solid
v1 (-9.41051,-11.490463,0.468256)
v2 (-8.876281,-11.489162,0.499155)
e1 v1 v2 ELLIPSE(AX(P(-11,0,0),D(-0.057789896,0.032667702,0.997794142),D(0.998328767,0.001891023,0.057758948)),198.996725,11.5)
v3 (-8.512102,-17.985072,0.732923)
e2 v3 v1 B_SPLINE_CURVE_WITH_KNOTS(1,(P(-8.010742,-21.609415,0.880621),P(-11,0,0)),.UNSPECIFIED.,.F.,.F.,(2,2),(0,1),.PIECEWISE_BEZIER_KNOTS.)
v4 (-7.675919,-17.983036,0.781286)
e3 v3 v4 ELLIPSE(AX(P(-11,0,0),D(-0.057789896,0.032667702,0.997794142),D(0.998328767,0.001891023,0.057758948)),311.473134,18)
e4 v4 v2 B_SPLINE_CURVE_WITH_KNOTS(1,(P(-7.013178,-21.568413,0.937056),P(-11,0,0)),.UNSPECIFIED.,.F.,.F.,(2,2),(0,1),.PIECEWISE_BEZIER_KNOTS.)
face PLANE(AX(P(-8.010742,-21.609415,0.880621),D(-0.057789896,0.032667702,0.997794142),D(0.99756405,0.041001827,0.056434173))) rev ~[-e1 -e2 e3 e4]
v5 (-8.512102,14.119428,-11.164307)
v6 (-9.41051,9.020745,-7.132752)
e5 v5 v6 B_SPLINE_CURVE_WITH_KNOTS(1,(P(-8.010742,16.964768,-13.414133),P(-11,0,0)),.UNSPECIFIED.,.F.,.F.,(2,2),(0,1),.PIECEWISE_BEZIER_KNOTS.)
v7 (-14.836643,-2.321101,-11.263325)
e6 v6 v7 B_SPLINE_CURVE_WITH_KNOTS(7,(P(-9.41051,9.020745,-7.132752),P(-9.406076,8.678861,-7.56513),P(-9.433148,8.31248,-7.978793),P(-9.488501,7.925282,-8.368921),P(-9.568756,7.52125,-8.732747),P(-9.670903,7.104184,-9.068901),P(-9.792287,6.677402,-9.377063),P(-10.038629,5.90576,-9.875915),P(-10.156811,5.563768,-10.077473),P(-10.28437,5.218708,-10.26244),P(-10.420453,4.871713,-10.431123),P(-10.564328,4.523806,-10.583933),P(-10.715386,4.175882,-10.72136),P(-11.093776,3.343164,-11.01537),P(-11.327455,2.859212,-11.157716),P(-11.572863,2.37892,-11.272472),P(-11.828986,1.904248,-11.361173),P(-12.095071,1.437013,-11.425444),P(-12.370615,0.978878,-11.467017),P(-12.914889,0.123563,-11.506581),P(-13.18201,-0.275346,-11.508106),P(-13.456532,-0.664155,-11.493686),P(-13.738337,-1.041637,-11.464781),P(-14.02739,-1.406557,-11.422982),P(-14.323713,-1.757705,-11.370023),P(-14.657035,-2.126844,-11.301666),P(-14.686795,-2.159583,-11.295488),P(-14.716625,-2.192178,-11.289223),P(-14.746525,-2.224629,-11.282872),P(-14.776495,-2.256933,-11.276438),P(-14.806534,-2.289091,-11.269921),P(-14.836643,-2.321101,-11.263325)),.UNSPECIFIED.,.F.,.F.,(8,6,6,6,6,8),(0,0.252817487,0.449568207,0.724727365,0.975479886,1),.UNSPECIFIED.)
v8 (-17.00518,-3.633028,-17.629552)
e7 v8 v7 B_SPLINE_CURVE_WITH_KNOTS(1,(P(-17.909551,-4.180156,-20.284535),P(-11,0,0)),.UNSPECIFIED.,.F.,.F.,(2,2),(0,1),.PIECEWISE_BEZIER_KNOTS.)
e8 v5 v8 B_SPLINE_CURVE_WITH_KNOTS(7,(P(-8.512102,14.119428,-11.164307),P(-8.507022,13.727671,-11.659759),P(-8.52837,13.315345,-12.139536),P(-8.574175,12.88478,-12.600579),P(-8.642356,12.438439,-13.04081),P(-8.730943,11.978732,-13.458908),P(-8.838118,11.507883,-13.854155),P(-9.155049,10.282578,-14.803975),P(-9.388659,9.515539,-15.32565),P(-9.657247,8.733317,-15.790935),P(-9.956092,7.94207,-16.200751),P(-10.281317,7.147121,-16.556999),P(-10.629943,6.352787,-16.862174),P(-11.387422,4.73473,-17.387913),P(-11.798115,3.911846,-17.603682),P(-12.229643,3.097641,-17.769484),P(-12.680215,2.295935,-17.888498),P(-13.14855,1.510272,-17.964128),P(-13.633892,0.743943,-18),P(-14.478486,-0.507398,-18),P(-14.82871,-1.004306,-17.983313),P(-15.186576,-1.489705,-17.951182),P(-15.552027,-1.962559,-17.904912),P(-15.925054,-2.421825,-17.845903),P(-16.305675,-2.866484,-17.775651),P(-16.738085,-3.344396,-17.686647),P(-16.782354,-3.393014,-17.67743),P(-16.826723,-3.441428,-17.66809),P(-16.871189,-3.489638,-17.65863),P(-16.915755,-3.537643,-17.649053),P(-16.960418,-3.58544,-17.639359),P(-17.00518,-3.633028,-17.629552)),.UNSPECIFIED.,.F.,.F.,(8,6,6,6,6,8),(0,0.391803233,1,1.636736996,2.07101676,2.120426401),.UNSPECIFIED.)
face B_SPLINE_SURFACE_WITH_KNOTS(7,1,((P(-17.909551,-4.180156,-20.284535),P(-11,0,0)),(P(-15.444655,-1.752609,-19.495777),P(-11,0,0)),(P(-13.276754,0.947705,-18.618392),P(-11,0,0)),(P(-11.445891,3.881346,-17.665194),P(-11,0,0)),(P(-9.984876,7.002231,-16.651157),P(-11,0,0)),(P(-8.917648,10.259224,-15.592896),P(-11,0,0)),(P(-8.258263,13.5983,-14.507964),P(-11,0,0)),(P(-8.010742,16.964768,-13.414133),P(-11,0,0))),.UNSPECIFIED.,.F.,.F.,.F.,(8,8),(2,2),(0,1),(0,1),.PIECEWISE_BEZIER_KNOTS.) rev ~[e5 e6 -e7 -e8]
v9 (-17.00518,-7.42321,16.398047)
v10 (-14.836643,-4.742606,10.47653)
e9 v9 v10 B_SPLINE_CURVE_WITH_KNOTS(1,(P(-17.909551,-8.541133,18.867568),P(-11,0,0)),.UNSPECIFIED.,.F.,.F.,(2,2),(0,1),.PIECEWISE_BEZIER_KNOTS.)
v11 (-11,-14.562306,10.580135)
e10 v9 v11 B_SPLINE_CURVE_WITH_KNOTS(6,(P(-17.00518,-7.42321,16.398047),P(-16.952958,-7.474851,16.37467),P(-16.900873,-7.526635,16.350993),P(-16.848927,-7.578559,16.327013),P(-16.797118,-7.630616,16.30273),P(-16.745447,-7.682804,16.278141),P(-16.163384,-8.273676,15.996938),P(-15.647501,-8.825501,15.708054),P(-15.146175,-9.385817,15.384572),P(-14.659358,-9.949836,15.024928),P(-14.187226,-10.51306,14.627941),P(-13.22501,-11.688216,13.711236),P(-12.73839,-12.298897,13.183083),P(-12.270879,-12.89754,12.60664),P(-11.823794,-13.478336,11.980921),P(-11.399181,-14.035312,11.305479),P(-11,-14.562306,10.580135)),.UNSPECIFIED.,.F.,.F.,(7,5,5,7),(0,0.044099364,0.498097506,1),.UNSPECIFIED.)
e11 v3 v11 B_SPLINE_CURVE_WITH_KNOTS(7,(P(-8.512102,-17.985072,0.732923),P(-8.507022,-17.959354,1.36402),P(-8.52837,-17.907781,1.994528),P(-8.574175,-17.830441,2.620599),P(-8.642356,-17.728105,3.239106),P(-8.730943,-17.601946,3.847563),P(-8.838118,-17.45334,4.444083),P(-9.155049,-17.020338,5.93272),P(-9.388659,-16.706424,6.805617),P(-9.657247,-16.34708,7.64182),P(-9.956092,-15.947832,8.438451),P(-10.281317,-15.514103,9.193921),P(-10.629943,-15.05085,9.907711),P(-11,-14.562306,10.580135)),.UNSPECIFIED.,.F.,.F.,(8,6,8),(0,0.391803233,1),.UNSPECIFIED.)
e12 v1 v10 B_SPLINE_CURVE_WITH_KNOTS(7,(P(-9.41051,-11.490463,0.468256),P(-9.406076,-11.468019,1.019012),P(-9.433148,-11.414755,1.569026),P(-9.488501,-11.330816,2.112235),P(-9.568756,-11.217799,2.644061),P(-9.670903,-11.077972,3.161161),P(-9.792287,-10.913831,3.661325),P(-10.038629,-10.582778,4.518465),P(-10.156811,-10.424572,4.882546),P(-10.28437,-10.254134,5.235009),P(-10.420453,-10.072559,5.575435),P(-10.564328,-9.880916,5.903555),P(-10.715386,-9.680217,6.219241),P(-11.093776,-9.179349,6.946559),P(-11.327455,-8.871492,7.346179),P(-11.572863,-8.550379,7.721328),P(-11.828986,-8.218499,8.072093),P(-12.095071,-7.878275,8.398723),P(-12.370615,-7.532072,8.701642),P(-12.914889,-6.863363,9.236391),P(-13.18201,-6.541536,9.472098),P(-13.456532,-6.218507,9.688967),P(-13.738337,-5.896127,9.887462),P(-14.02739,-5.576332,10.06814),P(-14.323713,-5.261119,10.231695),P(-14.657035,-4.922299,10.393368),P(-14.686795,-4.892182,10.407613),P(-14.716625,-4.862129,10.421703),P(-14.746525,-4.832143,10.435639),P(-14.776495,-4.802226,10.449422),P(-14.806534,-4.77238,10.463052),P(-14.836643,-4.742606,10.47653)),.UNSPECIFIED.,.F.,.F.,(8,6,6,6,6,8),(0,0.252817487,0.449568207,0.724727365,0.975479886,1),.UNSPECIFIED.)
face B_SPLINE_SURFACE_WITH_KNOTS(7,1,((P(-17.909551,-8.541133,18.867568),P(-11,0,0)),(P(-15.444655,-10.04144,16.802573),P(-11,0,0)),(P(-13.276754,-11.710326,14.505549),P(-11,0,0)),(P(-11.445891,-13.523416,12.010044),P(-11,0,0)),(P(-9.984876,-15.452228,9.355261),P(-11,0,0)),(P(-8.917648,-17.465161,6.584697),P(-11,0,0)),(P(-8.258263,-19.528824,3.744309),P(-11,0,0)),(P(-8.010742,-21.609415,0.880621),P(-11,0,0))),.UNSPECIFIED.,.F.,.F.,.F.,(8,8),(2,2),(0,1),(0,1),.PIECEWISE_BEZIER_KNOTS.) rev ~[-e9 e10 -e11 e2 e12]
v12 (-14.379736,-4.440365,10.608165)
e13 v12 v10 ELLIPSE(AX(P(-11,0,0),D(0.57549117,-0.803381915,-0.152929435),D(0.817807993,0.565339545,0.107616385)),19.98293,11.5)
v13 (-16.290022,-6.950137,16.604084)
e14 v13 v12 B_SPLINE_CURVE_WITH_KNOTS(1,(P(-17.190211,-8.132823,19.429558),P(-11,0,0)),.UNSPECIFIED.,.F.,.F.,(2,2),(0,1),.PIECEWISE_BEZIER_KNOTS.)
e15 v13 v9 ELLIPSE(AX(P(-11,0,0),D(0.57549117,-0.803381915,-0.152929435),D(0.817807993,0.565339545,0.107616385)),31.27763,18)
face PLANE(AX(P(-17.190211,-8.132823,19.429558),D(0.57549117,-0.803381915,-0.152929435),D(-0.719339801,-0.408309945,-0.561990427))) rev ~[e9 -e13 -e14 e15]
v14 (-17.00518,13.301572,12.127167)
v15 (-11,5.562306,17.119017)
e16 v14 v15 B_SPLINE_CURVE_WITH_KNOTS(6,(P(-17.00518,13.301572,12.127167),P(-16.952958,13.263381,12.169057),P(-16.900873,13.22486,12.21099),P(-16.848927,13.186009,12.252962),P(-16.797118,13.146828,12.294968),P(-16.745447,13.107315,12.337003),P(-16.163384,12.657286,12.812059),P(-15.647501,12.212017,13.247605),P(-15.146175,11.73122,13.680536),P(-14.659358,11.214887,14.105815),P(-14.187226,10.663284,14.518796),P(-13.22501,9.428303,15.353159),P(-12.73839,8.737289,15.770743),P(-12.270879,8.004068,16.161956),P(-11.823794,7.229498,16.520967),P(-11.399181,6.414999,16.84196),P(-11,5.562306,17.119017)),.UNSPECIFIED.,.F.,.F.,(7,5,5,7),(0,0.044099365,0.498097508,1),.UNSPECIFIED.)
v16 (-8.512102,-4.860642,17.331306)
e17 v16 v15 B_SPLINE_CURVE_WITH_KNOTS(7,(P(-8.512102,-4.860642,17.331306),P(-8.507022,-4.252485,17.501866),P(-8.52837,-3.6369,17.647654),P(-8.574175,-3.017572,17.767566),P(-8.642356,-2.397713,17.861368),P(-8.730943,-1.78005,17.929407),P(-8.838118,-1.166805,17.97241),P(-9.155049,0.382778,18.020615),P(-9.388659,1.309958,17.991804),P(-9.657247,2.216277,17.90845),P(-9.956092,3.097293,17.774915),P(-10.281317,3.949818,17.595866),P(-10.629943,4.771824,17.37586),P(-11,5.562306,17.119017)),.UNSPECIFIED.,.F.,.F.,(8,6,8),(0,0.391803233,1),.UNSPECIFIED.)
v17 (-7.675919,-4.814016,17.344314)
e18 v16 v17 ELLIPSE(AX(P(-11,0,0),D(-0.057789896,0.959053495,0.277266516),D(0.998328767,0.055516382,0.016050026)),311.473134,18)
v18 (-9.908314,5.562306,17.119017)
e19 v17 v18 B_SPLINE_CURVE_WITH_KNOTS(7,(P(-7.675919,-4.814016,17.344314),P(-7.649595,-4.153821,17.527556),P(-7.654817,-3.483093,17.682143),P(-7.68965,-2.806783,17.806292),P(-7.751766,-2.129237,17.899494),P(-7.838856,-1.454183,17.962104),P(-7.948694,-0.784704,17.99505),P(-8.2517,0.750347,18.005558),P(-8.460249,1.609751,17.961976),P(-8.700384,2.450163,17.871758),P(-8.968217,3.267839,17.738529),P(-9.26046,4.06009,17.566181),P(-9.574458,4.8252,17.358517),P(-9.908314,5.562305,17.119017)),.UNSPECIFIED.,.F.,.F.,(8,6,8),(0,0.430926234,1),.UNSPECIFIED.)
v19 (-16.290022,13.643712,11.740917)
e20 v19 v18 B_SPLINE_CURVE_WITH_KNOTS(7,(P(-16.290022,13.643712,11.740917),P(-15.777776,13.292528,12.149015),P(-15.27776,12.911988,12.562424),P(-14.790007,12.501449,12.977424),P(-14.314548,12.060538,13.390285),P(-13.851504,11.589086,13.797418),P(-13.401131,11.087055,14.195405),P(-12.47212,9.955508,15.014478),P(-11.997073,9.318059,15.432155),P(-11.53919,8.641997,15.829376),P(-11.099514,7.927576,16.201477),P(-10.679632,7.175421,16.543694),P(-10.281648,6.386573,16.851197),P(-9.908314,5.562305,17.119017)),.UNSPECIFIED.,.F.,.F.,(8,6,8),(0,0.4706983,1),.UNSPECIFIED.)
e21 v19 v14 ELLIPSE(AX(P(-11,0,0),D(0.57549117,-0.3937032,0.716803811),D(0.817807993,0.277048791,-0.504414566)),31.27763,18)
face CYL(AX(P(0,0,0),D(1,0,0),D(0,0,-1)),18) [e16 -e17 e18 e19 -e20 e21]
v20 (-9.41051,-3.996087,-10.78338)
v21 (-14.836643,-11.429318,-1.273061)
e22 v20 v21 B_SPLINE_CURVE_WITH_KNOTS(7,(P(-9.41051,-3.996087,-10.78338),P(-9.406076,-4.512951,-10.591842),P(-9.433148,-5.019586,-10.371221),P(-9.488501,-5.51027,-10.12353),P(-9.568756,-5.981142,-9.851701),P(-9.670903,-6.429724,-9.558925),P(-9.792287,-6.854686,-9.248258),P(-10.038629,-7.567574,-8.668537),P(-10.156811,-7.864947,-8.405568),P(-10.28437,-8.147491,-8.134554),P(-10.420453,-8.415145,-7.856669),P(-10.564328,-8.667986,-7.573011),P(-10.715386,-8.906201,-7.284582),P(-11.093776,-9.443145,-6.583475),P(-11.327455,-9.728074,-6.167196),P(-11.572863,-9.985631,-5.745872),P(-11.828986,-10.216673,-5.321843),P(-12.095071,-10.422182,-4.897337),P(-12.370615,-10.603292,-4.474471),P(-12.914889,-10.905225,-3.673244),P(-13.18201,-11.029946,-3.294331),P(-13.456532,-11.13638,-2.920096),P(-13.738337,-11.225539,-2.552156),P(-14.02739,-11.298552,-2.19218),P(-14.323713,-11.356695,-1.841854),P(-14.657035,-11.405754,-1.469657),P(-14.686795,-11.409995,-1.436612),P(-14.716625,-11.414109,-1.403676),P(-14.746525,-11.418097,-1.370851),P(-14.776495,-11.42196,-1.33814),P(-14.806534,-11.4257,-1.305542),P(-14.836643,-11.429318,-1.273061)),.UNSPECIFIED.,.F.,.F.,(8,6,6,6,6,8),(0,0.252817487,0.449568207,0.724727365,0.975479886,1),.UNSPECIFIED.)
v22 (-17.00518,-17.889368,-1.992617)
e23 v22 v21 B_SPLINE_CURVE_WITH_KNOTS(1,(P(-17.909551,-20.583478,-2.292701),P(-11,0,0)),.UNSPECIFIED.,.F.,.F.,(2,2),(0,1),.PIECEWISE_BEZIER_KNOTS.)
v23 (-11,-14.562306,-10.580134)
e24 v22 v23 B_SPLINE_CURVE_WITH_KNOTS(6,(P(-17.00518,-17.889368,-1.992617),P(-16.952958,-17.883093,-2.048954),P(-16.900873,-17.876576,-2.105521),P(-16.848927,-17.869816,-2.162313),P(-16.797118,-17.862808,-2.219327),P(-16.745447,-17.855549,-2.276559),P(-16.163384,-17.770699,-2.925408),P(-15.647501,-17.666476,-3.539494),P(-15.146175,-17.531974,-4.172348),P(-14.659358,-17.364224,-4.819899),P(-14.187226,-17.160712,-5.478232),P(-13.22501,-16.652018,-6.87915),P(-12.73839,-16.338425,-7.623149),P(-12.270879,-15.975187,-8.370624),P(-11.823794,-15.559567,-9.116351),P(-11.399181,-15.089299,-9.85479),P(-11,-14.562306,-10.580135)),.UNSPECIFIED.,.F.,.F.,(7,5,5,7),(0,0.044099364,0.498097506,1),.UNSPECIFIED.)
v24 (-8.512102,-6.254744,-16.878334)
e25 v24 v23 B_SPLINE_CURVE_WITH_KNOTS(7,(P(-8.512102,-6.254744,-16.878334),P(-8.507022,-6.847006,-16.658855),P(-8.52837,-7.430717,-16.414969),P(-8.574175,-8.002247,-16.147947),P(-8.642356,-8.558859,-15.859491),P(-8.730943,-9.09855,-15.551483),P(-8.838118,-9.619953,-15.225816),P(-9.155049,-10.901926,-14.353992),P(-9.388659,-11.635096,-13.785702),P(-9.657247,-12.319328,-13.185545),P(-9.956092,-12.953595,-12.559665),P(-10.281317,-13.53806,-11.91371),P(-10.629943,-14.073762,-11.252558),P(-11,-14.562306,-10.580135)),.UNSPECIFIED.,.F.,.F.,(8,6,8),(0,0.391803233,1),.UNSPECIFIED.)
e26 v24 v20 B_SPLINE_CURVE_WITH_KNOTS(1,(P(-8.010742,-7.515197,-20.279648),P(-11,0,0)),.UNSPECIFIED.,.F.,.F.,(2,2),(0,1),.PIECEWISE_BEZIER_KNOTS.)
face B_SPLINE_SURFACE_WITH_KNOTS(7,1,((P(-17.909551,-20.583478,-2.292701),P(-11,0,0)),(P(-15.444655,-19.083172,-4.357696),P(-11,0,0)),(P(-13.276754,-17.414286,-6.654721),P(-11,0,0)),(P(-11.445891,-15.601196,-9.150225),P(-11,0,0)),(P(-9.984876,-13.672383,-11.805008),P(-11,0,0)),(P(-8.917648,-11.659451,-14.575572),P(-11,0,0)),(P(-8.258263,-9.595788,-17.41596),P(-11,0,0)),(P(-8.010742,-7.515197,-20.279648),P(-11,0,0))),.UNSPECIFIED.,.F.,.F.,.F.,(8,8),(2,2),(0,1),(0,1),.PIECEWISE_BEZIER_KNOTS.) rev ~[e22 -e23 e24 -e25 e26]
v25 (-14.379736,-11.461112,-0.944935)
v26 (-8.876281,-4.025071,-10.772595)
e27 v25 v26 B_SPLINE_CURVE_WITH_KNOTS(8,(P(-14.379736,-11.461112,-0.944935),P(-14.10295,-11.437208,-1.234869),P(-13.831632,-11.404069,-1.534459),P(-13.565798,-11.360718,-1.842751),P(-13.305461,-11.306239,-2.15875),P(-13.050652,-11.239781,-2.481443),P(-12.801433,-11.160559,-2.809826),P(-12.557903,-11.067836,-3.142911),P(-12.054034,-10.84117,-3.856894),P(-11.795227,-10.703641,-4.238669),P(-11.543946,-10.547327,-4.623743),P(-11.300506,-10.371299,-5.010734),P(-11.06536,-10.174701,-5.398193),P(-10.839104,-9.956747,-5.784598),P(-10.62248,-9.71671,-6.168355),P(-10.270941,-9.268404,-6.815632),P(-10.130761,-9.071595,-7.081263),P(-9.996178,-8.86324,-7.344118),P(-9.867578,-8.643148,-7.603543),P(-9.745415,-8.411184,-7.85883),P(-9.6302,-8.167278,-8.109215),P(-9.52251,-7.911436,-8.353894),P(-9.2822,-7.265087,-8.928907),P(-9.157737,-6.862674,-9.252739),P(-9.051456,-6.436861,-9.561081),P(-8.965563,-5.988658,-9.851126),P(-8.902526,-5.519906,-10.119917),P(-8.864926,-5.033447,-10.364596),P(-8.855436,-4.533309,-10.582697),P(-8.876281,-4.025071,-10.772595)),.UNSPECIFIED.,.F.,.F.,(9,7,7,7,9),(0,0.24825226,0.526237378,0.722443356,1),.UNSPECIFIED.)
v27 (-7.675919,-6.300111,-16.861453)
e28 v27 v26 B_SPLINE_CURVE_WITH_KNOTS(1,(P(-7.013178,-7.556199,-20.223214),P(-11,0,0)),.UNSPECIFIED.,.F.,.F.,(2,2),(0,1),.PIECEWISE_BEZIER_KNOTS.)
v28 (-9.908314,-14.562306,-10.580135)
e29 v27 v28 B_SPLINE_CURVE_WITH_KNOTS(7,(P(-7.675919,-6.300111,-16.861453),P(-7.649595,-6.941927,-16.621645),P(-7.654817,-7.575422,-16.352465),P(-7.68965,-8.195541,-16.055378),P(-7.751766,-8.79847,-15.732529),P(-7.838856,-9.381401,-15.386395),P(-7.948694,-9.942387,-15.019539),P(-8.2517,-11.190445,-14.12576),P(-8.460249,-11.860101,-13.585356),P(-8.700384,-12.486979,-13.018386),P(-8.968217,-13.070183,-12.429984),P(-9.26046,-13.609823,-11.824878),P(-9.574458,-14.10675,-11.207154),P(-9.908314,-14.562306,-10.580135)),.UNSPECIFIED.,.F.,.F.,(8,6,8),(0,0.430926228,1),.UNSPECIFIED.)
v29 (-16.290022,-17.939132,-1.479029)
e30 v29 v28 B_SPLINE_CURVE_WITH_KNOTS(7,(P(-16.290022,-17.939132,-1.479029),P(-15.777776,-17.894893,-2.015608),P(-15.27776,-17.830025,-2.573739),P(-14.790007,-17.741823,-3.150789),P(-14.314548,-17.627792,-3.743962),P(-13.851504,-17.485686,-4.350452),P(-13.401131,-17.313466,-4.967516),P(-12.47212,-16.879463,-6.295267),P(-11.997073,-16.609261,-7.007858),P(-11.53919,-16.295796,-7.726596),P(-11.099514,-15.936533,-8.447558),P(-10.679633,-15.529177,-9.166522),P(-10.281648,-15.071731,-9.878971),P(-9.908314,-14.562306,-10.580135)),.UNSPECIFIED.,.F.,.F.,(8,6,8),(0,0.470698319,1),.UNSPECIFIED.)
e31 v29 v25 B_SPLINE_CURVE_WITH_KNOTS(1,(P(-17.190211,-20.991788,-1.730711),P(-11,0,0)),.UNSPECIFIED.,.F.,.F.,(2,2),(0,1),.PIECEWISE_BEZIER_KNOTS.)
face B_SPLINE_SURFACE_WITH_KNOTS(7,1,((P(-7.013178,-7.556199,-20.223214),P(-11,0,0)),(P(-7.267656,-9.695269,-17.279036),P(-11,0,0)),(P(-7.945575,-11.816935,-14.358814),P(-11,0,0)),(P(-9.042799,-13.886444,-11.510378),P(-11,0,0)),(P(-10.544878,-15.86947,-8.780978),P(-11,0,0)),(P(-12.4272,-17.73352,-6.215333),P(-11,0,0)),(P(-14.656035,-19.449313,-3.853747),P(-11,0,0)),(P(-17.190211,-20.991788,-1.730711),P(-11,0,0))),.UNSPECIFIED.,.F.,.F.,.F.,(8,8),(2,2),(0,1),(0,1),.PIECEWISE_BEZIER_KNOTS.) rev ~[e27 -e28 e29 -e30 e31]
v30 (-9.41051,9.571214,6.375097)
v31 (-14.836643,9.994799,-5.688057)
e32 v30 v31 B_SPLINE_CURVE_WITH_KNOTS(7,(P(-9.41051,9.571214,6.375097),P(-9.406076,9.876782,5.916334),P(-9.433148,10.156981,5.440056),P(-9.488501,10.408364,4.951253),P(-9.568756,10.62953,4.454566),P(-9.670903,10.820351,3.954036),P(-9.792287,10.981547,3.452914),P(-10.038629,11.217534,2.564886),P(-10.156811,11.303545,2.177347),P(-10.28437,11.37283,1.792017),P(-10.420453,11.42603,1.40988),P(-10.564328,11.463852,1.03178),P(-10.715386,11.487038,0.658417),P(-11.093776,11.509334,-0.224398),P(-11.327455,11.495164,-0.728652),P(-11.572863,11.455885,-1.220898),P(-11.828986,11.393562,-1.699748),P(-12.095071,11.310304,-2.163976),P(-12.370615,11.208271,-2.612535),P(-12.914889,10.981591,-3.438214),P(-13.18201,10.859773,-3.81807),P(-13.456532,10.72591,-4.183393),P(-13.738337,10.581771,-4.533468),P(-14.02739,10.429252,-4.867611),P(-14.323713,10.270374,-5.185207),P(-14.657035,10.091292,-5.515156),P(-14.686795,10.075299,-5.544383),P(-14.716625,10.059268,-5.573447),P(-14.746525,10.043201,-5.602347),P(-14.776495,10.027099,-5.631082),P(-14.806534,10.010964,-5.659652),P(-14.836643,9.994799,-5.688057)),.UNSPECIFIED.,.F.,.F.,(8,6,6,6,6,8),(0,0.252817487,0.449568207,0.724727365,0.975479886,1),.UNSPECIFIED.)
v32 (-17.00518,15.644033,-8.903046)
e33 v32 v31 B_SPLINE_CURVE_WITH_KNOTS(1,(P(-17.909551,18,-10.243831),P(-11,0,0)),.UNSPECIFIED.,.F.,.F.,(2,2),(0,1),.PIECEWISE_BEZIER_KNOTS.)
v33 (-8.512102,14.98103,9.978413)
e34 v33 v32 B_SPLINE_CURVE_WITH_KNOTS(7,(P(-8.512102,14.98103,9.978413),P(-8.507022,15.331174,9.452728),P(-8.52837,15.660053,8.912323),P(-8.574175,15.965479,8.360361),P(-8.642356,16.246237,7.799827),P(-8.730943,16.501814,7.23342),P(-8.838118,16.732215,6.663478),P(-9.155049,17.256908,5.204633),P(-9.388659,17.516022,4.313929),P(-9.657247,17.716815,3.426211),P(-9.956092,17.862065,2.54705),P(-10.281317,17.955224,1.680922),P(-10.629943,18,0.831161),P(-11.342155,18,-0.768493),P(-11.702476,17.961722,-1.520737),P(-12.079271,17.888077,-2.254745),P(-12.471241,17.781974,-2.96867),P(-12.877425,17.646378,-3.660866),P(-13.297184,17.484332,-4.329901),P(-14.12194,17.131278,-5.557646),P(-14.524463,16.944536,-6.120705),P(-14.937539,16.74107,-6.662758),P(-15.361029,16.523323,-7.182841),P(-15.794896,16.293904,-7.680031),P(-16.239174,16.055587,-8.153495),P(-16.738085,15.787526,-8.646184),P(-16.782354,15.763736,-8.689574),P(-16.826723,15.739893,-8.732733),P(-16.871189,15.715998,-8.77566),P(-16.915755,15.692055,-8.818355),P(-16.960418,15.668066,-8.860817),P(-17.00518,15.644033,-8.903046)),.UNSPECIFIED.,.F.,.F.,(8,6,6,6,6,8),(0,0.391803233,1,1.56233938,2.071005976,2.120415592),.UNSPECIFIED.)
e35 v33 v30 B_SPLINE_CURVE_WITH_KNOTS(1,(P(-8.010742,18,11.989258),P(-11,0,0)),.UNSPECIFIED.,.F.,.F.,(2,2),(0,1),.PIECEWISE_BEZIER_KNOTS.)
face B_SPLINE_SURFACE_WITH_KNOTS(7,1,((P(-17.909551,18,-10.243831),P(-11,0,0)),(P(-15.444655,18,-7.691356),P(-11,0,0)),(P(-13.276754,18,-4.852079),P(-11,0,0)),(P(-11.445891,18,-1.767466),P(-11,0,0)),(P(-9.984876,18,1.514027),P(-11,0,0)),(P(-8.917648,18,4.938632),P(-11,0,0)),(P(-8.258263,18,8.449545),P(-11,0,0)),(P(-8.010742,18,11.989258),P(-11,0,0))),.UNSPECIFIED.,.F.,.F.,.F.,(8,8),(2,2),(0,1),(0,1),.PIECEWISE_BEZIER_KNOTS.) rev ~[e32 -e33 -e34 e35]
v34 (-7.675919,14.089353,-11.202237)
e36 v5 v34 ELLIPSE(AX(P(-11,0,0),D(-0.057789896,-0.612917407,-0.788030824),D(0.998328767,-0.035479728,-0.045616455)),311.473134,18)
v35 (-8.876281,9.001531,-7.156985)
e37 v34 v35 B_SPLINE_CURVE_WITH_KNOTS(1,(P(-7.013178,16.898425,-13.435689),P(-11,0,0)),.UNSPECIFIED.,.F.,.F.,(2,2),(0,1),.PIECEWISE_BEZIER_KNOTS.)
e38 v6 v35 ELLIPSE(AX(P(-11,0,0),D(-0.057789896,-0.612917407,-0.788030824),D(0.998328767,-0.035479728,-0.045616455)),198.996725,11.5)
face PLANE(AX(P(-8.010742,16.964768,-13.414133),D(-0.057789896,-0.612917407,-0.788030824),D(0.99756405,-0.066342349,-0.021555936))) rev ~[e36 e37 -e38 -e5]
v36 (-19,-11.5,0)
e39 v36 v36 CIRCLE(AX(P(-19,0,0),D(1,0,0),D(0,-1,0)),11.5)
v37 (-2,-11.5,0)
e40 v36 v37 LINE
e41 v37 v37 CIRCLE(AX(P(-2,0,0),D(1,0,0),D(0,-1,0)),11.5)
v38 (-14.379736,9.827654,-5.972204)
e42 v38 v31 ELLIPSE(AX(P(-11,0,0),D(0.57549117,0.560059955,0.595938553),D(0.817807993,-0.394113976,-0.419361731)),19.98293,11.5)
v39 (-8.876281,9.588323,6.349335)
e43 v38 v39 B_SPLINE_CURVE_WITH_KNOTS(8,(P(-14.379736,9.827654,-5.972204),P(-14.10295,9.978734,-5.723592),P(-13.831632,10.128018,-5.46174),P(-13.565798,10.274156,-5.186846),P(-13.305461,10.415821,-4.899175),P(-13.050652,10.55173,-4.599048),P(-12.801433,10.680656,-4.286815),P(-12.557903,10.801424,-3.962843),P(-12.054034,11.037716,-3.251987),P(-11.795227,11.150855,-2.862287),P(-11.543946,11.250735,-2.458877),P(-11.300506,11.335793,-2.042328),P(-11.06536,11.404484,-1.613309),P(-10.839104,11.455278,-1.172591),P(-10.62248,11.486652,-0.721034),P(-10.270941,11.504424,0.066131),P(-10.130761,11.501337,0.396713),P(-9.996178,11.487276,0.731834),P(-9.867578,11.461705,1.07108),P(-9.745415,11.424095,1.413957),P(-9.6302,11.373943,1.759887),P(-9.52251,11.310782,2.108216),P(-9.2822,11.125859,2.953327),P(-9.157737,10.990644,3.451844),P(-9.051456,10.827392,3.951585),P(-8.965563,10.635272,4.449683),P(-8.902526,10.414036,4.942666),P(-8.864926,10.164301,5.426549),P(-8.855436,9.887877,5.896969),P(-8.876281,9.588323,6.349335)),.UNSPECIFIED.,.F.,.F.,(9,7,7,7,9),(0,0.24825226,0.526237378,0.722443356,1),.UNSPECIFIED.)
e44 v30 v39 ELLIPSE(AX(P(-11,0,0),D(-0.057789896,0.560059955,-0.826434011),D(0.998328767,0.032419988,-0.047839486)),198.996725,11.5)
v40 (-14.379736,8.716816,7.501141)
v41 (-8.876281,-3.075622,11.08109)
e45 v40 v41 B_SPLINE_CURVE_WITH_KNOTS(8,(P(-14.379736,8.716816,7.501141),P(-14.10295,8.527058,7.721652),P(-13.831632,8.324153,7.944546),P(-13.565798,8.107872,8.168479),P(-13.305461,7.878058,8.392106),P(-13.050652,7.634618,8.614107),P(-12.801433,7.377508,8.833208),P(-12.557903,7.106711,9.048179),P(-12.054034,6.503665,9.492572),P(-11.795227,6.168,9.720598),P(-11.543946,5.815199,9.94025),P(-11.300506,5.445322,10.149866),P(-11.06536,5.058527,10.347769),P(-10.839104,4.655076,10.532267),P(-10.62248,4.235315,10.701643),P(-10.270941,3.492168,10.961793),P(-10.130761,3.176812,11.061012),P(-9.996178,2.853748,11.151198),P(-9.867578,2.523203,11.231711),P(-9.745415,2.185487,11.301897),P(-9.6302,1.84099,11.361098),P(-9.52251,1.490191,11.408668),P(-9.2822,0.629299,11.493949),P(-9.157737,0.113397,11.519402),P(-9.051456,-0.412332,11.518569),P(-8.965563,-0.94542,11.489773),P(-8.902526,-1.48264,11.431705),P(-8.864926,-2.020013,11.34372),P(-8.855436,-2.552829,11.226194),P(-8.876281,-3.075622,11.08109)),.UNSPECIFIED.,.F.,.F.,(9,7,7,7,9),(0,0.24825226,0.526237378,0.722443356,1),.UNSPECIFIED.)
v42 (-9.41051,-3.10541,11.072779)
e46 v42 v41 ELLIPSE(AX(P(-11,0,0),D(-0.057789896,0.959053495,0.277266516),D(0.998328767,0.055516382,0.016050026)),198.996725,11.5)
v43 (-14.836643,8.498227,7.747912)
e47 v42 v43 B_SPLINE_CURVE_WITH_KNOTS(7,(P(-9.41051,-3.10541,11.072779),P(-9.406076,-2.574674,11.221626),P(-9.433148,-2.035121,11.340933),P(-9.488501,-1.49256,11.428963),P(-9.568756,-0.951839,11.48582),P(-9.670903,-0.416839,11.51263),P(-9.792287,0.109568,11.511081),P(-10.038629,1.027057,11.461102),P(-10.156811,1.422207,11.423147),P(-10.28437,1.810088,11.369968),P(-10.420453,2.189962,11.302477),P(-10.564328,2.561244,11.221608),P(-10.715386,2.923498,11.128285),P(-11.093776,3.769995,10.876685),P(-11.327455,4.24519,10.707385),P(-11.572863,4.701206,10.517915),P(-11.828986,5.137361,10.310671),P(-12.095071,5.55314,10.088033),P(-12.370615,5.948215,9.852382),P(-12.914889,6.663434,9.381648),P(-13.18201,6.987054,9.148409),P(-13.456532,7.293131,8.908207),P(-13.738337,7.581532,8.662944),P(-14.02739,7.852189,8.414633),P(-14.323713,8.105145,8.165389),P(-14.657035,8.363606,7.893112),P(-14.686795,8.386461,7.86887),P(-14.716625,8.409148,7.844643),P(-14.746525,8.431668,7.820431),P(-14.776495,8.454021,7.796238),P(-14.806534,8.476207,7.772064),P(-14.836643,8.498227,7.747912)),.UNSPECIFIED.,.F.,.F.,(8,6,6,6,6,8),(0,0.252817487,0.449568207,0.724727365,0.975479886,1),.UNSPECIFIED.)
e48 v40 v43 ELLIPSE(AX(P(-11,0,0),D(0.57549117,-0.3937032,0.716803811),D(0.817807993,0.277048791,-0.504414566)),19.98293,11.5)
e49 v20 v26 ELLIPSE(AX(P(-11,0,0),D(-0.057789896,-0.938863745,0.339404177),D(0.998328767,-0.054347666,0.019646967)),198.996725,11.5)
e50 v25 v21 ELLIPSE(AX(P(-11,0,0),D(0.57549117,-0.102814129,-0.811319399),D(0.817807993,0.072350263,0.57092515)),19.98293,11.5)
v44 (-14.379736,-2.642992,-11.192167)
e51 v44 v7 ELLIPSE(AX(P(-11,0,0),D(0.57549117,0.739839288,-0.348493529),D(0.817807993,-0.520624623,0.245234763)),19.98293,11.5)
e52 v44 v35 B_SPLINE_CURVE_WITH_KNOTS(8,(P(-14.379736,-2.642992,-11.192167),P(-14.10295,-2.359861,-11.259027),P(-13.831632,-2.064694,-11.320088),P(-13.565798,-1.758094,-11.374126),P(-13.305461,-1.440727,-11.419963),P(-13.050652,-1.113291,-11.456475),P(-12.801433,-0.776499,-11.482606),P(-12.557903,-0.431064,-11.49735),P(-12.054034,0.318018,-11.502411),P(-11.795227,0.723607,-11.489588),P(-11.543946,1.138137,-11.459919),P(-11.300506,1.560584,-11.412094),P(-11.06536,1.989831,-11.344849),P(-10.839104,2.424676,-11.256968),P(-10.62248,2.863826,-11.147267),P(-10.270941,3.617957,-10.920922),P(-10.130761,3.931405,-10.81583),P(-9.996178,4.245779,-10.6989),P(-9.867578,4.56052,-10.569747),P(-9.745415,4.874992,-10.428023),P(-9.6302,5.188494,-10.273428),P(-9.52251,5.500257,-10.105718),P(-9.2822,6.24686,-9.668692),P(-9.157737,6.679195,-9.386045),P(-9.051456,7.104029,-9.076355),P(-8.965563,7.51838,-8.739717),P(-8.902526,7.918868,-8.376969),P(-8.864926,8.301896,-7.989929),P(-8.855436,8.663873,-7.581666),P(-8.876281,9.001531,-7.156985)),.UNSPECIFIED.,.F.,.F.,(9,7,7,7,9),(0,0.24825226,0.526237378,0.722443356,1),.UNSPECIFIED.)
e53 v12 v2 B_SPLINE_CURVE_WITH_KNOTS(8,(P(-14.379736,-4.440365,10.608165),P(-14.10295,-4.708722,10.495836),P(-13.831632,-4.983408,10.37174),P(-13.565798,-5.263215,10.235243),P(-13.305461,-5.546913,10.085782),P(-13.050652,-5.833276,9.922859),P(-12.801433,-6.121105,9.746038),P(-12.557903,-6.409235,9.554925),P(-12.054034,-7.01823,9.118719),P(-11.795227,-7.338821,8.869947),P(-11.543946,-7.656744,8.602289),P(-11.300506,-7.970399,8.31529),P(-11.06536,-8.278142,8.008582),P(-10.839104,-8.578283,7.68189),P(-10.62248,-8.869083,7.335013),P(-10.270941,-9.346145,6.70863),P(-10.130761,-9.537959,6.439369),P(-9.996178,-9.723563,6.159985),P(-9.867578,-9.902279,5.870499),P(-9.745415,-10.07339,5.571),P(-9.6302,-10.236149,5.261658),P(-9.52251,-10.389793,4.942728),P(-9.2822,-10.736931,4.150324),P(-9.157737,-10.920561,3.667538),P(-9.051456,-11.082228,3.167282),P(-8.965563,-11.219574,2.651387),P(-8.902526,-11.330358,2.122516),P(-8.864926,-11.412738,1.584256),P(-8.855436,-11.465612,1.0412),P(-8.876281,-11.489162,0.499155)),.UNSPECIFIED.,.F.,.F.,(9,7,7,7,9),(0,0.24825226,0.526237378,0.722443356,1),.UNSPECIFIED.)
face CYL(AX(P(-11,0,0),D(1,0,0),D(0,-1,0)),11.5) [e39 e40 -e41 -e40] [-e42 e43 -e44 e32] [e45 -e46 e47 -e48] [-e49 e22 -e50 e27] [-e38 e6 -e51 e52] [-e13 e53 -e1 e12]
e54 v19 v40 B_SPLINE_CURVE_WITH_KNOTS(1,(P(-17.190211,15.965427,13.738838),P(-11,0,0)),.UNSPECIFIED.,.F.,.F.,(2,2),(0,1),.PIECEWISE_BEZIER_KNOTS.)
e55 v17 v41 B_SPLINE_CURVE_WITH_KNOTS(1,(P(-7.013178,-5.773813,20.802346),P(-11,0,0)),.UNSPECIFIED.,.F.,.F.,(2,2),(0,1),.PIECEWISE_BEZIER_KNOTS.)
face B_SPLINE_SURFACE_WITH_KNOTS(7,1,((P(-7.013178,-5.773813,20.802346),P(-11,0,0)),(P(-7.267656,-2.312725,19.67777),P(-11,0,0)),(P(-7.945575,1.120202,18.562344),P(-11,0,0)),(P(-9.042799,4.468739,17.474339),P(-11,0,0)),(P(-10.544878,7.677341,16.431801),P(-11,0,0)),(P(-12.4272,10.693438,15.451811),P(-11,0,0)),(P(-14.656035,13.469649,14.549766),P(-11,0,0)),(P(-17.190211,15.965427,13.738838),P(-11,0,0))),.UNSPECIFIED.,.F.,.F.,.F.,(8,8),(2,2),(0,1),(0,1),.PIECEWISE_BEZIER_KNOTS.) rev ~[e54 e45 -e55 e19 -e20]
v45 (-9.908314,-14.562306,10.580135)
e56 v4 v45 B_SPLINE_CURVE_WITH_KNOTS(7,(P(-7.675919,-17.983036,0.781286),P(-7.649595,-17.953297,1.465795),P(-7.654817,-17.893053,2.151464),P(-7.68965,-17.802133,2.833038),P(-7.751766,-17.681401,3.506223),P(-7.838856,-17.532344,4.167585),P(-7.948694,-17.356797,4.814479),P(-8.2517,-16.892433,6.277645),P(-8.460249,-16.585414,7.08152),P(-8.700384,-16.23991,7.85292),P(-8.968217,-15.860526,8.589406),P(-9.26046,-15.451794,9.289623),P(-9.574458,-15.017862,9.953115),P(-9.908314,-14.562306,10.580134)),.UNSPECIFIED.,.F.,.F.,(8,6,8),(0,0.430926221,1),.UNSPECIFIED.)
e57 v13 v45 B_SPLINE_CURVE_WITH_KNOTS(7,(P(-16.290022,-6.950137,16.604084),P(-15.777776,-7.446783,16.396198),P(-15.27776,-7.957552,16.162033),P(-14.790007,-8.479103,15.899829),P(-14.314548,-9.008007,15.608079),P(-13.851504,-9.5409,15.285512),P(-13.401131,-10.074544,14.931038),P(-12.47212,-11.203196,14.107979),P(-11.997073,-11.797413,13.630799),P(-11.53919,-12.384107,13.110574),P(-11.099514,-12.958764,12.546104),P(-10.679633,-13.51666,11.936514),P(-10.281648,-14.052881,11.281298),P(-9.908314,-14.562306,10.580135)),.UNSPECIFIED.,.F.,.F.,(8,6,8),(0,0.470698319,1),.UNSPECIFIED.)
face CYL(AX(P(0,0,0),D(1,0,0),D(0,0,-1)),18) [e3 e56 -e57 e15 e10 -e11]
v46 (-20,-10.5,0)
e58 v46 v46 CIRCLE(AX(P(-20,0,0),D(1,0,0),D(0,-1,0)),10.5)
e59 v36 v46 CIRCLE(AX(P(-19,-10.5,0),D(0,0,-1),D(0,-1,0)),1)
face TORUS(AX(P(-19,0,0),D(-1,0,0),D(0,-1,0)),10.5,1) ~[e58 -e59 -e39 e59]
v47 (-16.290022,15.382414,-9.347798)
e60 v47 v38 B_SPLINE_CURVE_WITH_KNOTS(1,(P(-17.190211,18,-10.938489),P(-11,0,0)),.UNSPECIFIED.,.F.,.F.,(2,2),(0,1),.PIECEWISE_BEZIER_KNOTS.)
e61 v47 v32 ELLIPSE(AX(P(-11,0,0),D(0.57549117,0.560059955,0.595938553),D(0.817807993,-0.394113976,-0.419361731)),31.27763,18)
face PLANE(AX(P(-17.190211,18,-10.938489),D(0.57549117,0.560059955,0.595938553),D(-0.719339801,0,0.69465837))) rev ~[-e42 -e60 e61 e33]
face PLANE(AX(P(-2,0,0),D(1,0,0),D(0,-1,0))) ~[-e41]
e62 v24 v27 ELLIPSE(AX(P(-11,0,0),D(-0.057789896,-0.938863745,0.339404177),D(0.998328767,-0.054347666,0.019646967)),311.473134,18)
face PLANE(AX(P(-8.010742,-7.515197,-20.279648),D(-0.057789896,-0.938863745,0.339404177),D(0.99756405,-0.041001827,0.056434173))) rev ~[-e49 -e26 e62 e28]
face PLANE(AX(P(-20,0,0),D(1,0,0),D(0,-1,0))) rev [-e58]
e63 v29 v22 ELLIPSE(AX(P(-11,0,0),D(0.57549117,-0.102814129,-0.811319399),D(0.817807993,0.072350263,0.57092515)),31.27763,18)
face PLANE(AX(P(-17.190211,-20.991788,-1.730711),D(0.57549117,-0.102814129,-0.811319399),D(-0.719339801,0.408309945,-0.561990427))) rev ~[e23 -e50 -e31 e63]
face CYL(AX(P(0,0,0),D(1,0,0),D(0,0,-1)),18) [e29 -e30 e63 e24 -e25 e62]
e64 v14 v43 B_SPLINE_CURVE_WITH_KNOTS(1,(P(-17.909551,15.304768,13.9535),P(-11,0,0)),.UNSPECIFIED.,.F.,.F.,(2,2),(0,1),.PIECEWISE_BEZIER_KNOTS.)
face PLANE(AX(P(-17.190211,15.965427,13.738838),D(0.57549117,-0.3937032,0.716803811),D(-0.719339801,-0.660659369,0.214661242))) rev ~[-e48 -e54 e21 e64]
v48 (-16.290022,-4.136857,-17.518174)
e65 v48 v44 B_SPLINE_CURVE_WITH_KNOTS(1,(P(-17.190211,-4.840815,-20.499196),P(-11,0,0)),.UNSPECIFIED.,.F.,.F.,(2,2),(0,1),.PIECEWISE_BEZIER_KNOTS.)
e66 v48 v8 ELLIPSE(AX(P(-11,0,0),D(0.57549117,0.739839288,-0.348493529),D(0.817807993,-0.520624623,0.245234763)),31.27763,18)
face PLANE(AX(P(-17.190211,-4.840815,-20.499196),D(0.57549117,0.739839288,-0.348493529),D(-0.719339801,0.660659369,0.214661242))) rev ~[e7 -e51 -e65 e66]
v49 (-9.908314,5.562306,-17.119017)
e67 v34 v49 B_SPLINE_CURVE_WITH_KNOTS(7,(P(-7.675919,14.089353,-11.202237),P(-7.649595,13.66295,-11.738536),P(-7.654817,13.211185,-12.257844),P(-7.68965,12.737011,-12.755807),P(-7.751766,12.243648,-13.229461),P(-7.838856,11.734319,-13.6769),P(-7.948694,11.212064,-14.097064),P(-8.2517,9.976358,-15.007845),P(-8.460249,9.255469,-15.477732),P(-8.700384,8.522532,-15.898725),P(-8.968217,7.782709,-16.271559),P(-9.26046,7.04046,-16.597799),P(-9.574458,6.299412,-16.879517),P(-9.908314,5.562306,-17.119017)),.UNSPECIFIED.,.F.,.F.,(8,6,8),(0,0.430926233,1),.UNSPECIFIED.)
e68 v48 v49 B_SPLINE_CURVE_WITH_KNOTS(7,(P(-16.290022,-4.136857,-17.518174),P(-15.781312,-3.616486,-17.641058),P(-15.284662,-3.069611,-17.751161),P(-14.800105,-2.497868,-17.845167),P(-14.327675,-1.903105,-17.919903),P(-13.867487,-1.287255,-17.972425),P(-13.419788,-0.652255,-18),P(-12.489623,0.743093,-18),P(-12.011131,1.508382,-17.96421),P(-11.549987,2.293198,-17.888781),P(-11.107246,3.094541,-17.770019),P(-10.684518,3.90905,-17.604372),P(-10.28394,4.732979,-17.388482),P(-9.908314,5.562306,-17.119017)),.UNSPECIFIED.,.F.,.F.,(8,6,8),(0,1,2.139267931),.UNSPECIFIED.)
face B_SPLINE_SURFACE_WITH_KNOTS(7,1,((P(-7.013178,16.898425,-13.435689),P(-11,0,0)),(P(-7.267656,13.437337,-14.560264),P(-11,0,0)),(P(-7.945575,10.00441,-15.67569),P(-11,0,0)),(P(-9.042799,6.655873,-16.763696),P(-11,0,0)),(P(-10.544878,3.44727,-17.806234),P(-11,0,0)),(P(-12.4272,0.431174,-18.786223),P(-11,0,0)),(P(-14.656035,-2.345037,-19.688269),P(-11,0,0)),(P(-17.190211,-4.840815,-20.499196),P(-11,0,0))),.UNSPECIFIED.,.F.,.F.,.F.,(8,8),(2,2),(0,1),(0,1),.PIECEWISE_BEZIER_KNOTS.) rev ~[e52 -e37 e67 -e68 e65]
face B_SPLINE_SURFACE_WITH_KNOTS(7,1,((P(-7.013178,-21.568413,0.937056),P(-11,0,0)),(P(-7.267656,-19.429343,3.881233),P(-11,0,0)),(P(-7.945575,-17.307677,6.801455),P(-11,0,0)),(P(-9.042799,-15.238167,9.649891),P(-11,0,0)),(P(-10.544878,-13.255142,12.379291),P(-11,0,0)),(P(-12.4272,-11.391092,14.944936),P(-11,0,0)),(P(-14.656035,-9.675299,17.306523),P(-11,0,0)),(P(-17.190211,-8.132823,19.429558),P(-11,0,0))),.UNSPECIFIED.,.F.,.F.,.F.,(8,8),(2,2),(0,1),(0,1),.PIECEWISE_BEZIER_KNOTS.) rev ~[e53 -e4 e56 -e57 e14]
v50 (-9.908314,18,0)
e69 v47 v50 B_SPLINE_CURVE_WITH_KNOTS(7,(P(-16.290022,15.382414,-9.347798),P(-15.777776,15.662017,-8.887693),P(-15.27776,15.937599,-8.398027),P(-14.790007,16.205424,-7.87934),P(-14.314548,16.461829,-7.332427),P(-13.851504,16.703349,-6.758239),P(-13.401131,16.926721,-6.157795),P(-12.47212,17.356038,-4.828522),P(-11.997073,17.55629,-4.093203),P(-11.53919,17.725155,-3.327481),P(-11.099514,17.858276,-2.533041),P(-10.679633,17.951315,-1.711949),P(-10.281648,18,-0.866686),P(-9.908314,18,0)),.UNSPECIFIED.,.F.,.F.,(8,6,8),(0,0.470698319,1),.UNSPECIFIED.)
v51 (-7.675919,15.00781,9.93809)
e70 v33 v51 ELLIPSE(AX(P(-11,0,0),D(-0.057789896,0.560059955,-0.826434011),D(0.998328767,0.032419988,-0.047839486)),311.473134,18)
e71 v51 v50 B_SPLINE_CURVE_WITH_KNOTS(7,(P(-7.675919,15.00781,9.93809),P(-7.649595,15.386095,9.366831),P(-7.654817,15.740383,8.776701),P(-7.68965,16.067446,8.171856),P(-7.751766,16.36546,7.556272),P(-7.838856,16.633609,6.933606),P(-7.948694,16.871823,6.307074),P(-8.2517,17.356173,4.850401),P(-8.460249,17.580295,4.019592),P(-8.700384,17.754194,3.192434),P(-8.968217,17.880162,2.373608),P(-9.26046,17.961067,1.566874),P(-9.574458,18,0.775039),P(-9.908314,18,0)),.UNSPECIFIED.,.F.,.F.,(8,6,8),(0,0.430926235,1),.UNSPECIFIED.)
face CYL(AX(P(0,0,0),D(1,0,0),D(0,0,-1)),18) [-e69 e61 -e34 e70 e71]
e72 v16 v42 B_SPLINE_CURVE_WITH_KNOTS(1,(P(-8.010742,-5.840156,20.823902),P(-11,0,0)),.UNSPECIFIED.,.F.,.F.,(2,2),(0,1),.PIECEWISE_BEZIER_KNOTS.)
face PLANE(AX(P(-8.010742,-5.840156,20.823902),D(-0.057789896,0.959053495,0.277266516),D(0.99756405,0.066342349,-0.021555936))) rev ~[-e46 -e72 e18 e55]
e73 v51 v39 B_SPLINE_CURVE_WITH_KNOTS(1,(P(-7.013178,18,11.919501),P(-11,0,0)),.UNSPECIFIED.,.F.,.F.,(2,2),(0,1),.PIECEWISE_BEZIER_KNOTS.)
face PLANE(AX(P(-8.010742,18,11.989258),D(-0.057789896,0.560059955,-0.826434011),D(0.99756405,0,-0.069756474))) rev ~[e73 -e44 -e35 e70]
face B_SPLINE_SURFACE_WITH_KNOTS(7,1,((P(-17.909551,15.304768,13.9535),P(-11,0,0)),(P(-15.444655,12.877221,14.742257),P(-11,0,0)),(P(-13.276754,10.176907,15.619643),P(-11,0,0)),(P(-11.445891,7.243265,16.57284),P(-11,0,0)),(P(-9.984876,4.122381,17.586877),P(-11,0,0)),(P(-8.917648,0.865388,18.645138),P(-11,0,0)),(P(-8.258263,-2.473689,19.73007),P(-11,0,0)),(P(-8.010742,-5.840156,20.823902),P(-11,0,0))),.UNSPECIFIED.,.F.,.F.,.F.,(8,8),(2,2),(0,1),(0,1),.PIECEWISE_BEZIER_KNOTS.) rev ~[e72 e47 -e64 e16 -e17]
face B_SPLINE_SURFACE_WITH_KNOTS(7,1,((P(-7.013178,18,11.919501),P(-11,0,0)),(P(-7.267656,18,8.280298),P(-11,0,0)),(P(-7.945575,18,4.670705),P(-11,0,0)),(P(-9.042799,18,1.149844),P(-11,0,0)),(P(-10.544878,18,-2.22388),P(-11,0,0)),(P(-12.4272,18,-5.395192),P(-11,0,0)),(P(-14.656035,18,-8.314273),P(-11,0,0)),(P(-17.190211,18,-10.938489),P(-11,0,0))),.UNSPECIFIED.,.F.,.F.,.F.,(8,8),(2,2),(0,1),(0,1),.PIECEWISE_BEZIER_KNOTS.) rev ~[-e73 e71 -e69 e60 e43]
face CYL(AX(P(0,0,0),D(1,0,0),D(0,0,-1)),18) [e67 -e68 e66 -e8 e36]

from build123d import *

# Parameters (mm, degrees)
SKETCH5_W                  = 18
SKETCH5_H                  = 11.5
CIRPATTERN1_COUNT          = 5
SKETCH_CUT_BLADE_OUTSIDE_W = 55.323
SKETCH_CUT_BLADE_OUTSIDE_H = 53.609
SKETCH_CUT_BLADE_OUTSIDE_R = 18
CUT_FAN_BLADE_DEPTH        = 37.063855847
COSMETIC_FILLET_R          = 1


with BuildPart() as part:
    # Sketch5 → Body (revolve)
    with BuildSketch(Plane.XY, mode=Mode.PRIVATE) as body_sk:
        with Locations((-11, 5.75)):
            Rectangle(SKETCH5_W, SKETCH5_H)
    revolve(body_sk.sketch.rotate(Axis((-20, 0, 0), (1, 0, 0)), 180), axis=Axis((-20, 0, 0), (1, 0, 0)))

    # Sketch-Blade-Top → Loft-Fan-Blade section 0
    with BuildSketch(Plane(origin=(0, 18, 0), x_dir=(-1, 0, 0), z_dir=(0, 1, 0)), mode=Mode.PRIVATE) as loft_fan_blade_s0:
        with BuildLine():
            Line((8.010742329, 11.989257671), (7.013178279, 11.919501197))
            ThreePointArc((7.013178279, 11.919501197), (10.086454542, -0.406736643), (17.190211201, -10.938488995))
            Line((17.190211201, -10.938488995), (17.909551002, -10.243830625))
            ThreePointArc((17.909551002, -10.243830625), (11, 0), (8.010742329, 11.989257671))
        make_face()
    loft_fan_blade = loft([loft_fan_blade_s0.sketch, Vertex(-11, 0, 0)])

    # CirPattern1: Loft-Fan-Blade ×5 about axis
    cirpattern1_axis = Axis((-20, 0, 0), (1, 0, 0))
    for i in range(1, CIRPATTERN1_COUNT):
        add(loft_fan_blade.rotate(cirpattern1_axis, i * 360 / CIRPATTERN1_COUNT))

    # Sketch-Cut-Blade outside → Cut-Fan-Blade (cut, through all)
    with BuildSketch(Plane(origin=(0, 0, 0), x_dir=(0, 0, -1), z_dir=(1, 0, 0))):
        with Locations((-0.1625, -1.8045)):
            Rectangle(SKETCH_CUT_BLADE_OUTSIDE_W, SKETCH_CUT_BLADE_OUTSIDE_H)
        Circle(SKETCH_CUT_BLADE_OUTSIDE_R, mode=Mode.SUBTRACT)
    extrude(amount=-CUT_FAN_BLADE_DEPTH, mode=Mode.SUBTRACT)

    # Cosmetic-Fillet
    cosmetic_fillet_edges = [part.edges().sort_by_distance(p)[0] for p in [
        (-20, 11.5, 0),
    ]]
    fillet(cosmetic_fillet_edges, radius=COSMETIC_FILLET_R)


solid = part.part
